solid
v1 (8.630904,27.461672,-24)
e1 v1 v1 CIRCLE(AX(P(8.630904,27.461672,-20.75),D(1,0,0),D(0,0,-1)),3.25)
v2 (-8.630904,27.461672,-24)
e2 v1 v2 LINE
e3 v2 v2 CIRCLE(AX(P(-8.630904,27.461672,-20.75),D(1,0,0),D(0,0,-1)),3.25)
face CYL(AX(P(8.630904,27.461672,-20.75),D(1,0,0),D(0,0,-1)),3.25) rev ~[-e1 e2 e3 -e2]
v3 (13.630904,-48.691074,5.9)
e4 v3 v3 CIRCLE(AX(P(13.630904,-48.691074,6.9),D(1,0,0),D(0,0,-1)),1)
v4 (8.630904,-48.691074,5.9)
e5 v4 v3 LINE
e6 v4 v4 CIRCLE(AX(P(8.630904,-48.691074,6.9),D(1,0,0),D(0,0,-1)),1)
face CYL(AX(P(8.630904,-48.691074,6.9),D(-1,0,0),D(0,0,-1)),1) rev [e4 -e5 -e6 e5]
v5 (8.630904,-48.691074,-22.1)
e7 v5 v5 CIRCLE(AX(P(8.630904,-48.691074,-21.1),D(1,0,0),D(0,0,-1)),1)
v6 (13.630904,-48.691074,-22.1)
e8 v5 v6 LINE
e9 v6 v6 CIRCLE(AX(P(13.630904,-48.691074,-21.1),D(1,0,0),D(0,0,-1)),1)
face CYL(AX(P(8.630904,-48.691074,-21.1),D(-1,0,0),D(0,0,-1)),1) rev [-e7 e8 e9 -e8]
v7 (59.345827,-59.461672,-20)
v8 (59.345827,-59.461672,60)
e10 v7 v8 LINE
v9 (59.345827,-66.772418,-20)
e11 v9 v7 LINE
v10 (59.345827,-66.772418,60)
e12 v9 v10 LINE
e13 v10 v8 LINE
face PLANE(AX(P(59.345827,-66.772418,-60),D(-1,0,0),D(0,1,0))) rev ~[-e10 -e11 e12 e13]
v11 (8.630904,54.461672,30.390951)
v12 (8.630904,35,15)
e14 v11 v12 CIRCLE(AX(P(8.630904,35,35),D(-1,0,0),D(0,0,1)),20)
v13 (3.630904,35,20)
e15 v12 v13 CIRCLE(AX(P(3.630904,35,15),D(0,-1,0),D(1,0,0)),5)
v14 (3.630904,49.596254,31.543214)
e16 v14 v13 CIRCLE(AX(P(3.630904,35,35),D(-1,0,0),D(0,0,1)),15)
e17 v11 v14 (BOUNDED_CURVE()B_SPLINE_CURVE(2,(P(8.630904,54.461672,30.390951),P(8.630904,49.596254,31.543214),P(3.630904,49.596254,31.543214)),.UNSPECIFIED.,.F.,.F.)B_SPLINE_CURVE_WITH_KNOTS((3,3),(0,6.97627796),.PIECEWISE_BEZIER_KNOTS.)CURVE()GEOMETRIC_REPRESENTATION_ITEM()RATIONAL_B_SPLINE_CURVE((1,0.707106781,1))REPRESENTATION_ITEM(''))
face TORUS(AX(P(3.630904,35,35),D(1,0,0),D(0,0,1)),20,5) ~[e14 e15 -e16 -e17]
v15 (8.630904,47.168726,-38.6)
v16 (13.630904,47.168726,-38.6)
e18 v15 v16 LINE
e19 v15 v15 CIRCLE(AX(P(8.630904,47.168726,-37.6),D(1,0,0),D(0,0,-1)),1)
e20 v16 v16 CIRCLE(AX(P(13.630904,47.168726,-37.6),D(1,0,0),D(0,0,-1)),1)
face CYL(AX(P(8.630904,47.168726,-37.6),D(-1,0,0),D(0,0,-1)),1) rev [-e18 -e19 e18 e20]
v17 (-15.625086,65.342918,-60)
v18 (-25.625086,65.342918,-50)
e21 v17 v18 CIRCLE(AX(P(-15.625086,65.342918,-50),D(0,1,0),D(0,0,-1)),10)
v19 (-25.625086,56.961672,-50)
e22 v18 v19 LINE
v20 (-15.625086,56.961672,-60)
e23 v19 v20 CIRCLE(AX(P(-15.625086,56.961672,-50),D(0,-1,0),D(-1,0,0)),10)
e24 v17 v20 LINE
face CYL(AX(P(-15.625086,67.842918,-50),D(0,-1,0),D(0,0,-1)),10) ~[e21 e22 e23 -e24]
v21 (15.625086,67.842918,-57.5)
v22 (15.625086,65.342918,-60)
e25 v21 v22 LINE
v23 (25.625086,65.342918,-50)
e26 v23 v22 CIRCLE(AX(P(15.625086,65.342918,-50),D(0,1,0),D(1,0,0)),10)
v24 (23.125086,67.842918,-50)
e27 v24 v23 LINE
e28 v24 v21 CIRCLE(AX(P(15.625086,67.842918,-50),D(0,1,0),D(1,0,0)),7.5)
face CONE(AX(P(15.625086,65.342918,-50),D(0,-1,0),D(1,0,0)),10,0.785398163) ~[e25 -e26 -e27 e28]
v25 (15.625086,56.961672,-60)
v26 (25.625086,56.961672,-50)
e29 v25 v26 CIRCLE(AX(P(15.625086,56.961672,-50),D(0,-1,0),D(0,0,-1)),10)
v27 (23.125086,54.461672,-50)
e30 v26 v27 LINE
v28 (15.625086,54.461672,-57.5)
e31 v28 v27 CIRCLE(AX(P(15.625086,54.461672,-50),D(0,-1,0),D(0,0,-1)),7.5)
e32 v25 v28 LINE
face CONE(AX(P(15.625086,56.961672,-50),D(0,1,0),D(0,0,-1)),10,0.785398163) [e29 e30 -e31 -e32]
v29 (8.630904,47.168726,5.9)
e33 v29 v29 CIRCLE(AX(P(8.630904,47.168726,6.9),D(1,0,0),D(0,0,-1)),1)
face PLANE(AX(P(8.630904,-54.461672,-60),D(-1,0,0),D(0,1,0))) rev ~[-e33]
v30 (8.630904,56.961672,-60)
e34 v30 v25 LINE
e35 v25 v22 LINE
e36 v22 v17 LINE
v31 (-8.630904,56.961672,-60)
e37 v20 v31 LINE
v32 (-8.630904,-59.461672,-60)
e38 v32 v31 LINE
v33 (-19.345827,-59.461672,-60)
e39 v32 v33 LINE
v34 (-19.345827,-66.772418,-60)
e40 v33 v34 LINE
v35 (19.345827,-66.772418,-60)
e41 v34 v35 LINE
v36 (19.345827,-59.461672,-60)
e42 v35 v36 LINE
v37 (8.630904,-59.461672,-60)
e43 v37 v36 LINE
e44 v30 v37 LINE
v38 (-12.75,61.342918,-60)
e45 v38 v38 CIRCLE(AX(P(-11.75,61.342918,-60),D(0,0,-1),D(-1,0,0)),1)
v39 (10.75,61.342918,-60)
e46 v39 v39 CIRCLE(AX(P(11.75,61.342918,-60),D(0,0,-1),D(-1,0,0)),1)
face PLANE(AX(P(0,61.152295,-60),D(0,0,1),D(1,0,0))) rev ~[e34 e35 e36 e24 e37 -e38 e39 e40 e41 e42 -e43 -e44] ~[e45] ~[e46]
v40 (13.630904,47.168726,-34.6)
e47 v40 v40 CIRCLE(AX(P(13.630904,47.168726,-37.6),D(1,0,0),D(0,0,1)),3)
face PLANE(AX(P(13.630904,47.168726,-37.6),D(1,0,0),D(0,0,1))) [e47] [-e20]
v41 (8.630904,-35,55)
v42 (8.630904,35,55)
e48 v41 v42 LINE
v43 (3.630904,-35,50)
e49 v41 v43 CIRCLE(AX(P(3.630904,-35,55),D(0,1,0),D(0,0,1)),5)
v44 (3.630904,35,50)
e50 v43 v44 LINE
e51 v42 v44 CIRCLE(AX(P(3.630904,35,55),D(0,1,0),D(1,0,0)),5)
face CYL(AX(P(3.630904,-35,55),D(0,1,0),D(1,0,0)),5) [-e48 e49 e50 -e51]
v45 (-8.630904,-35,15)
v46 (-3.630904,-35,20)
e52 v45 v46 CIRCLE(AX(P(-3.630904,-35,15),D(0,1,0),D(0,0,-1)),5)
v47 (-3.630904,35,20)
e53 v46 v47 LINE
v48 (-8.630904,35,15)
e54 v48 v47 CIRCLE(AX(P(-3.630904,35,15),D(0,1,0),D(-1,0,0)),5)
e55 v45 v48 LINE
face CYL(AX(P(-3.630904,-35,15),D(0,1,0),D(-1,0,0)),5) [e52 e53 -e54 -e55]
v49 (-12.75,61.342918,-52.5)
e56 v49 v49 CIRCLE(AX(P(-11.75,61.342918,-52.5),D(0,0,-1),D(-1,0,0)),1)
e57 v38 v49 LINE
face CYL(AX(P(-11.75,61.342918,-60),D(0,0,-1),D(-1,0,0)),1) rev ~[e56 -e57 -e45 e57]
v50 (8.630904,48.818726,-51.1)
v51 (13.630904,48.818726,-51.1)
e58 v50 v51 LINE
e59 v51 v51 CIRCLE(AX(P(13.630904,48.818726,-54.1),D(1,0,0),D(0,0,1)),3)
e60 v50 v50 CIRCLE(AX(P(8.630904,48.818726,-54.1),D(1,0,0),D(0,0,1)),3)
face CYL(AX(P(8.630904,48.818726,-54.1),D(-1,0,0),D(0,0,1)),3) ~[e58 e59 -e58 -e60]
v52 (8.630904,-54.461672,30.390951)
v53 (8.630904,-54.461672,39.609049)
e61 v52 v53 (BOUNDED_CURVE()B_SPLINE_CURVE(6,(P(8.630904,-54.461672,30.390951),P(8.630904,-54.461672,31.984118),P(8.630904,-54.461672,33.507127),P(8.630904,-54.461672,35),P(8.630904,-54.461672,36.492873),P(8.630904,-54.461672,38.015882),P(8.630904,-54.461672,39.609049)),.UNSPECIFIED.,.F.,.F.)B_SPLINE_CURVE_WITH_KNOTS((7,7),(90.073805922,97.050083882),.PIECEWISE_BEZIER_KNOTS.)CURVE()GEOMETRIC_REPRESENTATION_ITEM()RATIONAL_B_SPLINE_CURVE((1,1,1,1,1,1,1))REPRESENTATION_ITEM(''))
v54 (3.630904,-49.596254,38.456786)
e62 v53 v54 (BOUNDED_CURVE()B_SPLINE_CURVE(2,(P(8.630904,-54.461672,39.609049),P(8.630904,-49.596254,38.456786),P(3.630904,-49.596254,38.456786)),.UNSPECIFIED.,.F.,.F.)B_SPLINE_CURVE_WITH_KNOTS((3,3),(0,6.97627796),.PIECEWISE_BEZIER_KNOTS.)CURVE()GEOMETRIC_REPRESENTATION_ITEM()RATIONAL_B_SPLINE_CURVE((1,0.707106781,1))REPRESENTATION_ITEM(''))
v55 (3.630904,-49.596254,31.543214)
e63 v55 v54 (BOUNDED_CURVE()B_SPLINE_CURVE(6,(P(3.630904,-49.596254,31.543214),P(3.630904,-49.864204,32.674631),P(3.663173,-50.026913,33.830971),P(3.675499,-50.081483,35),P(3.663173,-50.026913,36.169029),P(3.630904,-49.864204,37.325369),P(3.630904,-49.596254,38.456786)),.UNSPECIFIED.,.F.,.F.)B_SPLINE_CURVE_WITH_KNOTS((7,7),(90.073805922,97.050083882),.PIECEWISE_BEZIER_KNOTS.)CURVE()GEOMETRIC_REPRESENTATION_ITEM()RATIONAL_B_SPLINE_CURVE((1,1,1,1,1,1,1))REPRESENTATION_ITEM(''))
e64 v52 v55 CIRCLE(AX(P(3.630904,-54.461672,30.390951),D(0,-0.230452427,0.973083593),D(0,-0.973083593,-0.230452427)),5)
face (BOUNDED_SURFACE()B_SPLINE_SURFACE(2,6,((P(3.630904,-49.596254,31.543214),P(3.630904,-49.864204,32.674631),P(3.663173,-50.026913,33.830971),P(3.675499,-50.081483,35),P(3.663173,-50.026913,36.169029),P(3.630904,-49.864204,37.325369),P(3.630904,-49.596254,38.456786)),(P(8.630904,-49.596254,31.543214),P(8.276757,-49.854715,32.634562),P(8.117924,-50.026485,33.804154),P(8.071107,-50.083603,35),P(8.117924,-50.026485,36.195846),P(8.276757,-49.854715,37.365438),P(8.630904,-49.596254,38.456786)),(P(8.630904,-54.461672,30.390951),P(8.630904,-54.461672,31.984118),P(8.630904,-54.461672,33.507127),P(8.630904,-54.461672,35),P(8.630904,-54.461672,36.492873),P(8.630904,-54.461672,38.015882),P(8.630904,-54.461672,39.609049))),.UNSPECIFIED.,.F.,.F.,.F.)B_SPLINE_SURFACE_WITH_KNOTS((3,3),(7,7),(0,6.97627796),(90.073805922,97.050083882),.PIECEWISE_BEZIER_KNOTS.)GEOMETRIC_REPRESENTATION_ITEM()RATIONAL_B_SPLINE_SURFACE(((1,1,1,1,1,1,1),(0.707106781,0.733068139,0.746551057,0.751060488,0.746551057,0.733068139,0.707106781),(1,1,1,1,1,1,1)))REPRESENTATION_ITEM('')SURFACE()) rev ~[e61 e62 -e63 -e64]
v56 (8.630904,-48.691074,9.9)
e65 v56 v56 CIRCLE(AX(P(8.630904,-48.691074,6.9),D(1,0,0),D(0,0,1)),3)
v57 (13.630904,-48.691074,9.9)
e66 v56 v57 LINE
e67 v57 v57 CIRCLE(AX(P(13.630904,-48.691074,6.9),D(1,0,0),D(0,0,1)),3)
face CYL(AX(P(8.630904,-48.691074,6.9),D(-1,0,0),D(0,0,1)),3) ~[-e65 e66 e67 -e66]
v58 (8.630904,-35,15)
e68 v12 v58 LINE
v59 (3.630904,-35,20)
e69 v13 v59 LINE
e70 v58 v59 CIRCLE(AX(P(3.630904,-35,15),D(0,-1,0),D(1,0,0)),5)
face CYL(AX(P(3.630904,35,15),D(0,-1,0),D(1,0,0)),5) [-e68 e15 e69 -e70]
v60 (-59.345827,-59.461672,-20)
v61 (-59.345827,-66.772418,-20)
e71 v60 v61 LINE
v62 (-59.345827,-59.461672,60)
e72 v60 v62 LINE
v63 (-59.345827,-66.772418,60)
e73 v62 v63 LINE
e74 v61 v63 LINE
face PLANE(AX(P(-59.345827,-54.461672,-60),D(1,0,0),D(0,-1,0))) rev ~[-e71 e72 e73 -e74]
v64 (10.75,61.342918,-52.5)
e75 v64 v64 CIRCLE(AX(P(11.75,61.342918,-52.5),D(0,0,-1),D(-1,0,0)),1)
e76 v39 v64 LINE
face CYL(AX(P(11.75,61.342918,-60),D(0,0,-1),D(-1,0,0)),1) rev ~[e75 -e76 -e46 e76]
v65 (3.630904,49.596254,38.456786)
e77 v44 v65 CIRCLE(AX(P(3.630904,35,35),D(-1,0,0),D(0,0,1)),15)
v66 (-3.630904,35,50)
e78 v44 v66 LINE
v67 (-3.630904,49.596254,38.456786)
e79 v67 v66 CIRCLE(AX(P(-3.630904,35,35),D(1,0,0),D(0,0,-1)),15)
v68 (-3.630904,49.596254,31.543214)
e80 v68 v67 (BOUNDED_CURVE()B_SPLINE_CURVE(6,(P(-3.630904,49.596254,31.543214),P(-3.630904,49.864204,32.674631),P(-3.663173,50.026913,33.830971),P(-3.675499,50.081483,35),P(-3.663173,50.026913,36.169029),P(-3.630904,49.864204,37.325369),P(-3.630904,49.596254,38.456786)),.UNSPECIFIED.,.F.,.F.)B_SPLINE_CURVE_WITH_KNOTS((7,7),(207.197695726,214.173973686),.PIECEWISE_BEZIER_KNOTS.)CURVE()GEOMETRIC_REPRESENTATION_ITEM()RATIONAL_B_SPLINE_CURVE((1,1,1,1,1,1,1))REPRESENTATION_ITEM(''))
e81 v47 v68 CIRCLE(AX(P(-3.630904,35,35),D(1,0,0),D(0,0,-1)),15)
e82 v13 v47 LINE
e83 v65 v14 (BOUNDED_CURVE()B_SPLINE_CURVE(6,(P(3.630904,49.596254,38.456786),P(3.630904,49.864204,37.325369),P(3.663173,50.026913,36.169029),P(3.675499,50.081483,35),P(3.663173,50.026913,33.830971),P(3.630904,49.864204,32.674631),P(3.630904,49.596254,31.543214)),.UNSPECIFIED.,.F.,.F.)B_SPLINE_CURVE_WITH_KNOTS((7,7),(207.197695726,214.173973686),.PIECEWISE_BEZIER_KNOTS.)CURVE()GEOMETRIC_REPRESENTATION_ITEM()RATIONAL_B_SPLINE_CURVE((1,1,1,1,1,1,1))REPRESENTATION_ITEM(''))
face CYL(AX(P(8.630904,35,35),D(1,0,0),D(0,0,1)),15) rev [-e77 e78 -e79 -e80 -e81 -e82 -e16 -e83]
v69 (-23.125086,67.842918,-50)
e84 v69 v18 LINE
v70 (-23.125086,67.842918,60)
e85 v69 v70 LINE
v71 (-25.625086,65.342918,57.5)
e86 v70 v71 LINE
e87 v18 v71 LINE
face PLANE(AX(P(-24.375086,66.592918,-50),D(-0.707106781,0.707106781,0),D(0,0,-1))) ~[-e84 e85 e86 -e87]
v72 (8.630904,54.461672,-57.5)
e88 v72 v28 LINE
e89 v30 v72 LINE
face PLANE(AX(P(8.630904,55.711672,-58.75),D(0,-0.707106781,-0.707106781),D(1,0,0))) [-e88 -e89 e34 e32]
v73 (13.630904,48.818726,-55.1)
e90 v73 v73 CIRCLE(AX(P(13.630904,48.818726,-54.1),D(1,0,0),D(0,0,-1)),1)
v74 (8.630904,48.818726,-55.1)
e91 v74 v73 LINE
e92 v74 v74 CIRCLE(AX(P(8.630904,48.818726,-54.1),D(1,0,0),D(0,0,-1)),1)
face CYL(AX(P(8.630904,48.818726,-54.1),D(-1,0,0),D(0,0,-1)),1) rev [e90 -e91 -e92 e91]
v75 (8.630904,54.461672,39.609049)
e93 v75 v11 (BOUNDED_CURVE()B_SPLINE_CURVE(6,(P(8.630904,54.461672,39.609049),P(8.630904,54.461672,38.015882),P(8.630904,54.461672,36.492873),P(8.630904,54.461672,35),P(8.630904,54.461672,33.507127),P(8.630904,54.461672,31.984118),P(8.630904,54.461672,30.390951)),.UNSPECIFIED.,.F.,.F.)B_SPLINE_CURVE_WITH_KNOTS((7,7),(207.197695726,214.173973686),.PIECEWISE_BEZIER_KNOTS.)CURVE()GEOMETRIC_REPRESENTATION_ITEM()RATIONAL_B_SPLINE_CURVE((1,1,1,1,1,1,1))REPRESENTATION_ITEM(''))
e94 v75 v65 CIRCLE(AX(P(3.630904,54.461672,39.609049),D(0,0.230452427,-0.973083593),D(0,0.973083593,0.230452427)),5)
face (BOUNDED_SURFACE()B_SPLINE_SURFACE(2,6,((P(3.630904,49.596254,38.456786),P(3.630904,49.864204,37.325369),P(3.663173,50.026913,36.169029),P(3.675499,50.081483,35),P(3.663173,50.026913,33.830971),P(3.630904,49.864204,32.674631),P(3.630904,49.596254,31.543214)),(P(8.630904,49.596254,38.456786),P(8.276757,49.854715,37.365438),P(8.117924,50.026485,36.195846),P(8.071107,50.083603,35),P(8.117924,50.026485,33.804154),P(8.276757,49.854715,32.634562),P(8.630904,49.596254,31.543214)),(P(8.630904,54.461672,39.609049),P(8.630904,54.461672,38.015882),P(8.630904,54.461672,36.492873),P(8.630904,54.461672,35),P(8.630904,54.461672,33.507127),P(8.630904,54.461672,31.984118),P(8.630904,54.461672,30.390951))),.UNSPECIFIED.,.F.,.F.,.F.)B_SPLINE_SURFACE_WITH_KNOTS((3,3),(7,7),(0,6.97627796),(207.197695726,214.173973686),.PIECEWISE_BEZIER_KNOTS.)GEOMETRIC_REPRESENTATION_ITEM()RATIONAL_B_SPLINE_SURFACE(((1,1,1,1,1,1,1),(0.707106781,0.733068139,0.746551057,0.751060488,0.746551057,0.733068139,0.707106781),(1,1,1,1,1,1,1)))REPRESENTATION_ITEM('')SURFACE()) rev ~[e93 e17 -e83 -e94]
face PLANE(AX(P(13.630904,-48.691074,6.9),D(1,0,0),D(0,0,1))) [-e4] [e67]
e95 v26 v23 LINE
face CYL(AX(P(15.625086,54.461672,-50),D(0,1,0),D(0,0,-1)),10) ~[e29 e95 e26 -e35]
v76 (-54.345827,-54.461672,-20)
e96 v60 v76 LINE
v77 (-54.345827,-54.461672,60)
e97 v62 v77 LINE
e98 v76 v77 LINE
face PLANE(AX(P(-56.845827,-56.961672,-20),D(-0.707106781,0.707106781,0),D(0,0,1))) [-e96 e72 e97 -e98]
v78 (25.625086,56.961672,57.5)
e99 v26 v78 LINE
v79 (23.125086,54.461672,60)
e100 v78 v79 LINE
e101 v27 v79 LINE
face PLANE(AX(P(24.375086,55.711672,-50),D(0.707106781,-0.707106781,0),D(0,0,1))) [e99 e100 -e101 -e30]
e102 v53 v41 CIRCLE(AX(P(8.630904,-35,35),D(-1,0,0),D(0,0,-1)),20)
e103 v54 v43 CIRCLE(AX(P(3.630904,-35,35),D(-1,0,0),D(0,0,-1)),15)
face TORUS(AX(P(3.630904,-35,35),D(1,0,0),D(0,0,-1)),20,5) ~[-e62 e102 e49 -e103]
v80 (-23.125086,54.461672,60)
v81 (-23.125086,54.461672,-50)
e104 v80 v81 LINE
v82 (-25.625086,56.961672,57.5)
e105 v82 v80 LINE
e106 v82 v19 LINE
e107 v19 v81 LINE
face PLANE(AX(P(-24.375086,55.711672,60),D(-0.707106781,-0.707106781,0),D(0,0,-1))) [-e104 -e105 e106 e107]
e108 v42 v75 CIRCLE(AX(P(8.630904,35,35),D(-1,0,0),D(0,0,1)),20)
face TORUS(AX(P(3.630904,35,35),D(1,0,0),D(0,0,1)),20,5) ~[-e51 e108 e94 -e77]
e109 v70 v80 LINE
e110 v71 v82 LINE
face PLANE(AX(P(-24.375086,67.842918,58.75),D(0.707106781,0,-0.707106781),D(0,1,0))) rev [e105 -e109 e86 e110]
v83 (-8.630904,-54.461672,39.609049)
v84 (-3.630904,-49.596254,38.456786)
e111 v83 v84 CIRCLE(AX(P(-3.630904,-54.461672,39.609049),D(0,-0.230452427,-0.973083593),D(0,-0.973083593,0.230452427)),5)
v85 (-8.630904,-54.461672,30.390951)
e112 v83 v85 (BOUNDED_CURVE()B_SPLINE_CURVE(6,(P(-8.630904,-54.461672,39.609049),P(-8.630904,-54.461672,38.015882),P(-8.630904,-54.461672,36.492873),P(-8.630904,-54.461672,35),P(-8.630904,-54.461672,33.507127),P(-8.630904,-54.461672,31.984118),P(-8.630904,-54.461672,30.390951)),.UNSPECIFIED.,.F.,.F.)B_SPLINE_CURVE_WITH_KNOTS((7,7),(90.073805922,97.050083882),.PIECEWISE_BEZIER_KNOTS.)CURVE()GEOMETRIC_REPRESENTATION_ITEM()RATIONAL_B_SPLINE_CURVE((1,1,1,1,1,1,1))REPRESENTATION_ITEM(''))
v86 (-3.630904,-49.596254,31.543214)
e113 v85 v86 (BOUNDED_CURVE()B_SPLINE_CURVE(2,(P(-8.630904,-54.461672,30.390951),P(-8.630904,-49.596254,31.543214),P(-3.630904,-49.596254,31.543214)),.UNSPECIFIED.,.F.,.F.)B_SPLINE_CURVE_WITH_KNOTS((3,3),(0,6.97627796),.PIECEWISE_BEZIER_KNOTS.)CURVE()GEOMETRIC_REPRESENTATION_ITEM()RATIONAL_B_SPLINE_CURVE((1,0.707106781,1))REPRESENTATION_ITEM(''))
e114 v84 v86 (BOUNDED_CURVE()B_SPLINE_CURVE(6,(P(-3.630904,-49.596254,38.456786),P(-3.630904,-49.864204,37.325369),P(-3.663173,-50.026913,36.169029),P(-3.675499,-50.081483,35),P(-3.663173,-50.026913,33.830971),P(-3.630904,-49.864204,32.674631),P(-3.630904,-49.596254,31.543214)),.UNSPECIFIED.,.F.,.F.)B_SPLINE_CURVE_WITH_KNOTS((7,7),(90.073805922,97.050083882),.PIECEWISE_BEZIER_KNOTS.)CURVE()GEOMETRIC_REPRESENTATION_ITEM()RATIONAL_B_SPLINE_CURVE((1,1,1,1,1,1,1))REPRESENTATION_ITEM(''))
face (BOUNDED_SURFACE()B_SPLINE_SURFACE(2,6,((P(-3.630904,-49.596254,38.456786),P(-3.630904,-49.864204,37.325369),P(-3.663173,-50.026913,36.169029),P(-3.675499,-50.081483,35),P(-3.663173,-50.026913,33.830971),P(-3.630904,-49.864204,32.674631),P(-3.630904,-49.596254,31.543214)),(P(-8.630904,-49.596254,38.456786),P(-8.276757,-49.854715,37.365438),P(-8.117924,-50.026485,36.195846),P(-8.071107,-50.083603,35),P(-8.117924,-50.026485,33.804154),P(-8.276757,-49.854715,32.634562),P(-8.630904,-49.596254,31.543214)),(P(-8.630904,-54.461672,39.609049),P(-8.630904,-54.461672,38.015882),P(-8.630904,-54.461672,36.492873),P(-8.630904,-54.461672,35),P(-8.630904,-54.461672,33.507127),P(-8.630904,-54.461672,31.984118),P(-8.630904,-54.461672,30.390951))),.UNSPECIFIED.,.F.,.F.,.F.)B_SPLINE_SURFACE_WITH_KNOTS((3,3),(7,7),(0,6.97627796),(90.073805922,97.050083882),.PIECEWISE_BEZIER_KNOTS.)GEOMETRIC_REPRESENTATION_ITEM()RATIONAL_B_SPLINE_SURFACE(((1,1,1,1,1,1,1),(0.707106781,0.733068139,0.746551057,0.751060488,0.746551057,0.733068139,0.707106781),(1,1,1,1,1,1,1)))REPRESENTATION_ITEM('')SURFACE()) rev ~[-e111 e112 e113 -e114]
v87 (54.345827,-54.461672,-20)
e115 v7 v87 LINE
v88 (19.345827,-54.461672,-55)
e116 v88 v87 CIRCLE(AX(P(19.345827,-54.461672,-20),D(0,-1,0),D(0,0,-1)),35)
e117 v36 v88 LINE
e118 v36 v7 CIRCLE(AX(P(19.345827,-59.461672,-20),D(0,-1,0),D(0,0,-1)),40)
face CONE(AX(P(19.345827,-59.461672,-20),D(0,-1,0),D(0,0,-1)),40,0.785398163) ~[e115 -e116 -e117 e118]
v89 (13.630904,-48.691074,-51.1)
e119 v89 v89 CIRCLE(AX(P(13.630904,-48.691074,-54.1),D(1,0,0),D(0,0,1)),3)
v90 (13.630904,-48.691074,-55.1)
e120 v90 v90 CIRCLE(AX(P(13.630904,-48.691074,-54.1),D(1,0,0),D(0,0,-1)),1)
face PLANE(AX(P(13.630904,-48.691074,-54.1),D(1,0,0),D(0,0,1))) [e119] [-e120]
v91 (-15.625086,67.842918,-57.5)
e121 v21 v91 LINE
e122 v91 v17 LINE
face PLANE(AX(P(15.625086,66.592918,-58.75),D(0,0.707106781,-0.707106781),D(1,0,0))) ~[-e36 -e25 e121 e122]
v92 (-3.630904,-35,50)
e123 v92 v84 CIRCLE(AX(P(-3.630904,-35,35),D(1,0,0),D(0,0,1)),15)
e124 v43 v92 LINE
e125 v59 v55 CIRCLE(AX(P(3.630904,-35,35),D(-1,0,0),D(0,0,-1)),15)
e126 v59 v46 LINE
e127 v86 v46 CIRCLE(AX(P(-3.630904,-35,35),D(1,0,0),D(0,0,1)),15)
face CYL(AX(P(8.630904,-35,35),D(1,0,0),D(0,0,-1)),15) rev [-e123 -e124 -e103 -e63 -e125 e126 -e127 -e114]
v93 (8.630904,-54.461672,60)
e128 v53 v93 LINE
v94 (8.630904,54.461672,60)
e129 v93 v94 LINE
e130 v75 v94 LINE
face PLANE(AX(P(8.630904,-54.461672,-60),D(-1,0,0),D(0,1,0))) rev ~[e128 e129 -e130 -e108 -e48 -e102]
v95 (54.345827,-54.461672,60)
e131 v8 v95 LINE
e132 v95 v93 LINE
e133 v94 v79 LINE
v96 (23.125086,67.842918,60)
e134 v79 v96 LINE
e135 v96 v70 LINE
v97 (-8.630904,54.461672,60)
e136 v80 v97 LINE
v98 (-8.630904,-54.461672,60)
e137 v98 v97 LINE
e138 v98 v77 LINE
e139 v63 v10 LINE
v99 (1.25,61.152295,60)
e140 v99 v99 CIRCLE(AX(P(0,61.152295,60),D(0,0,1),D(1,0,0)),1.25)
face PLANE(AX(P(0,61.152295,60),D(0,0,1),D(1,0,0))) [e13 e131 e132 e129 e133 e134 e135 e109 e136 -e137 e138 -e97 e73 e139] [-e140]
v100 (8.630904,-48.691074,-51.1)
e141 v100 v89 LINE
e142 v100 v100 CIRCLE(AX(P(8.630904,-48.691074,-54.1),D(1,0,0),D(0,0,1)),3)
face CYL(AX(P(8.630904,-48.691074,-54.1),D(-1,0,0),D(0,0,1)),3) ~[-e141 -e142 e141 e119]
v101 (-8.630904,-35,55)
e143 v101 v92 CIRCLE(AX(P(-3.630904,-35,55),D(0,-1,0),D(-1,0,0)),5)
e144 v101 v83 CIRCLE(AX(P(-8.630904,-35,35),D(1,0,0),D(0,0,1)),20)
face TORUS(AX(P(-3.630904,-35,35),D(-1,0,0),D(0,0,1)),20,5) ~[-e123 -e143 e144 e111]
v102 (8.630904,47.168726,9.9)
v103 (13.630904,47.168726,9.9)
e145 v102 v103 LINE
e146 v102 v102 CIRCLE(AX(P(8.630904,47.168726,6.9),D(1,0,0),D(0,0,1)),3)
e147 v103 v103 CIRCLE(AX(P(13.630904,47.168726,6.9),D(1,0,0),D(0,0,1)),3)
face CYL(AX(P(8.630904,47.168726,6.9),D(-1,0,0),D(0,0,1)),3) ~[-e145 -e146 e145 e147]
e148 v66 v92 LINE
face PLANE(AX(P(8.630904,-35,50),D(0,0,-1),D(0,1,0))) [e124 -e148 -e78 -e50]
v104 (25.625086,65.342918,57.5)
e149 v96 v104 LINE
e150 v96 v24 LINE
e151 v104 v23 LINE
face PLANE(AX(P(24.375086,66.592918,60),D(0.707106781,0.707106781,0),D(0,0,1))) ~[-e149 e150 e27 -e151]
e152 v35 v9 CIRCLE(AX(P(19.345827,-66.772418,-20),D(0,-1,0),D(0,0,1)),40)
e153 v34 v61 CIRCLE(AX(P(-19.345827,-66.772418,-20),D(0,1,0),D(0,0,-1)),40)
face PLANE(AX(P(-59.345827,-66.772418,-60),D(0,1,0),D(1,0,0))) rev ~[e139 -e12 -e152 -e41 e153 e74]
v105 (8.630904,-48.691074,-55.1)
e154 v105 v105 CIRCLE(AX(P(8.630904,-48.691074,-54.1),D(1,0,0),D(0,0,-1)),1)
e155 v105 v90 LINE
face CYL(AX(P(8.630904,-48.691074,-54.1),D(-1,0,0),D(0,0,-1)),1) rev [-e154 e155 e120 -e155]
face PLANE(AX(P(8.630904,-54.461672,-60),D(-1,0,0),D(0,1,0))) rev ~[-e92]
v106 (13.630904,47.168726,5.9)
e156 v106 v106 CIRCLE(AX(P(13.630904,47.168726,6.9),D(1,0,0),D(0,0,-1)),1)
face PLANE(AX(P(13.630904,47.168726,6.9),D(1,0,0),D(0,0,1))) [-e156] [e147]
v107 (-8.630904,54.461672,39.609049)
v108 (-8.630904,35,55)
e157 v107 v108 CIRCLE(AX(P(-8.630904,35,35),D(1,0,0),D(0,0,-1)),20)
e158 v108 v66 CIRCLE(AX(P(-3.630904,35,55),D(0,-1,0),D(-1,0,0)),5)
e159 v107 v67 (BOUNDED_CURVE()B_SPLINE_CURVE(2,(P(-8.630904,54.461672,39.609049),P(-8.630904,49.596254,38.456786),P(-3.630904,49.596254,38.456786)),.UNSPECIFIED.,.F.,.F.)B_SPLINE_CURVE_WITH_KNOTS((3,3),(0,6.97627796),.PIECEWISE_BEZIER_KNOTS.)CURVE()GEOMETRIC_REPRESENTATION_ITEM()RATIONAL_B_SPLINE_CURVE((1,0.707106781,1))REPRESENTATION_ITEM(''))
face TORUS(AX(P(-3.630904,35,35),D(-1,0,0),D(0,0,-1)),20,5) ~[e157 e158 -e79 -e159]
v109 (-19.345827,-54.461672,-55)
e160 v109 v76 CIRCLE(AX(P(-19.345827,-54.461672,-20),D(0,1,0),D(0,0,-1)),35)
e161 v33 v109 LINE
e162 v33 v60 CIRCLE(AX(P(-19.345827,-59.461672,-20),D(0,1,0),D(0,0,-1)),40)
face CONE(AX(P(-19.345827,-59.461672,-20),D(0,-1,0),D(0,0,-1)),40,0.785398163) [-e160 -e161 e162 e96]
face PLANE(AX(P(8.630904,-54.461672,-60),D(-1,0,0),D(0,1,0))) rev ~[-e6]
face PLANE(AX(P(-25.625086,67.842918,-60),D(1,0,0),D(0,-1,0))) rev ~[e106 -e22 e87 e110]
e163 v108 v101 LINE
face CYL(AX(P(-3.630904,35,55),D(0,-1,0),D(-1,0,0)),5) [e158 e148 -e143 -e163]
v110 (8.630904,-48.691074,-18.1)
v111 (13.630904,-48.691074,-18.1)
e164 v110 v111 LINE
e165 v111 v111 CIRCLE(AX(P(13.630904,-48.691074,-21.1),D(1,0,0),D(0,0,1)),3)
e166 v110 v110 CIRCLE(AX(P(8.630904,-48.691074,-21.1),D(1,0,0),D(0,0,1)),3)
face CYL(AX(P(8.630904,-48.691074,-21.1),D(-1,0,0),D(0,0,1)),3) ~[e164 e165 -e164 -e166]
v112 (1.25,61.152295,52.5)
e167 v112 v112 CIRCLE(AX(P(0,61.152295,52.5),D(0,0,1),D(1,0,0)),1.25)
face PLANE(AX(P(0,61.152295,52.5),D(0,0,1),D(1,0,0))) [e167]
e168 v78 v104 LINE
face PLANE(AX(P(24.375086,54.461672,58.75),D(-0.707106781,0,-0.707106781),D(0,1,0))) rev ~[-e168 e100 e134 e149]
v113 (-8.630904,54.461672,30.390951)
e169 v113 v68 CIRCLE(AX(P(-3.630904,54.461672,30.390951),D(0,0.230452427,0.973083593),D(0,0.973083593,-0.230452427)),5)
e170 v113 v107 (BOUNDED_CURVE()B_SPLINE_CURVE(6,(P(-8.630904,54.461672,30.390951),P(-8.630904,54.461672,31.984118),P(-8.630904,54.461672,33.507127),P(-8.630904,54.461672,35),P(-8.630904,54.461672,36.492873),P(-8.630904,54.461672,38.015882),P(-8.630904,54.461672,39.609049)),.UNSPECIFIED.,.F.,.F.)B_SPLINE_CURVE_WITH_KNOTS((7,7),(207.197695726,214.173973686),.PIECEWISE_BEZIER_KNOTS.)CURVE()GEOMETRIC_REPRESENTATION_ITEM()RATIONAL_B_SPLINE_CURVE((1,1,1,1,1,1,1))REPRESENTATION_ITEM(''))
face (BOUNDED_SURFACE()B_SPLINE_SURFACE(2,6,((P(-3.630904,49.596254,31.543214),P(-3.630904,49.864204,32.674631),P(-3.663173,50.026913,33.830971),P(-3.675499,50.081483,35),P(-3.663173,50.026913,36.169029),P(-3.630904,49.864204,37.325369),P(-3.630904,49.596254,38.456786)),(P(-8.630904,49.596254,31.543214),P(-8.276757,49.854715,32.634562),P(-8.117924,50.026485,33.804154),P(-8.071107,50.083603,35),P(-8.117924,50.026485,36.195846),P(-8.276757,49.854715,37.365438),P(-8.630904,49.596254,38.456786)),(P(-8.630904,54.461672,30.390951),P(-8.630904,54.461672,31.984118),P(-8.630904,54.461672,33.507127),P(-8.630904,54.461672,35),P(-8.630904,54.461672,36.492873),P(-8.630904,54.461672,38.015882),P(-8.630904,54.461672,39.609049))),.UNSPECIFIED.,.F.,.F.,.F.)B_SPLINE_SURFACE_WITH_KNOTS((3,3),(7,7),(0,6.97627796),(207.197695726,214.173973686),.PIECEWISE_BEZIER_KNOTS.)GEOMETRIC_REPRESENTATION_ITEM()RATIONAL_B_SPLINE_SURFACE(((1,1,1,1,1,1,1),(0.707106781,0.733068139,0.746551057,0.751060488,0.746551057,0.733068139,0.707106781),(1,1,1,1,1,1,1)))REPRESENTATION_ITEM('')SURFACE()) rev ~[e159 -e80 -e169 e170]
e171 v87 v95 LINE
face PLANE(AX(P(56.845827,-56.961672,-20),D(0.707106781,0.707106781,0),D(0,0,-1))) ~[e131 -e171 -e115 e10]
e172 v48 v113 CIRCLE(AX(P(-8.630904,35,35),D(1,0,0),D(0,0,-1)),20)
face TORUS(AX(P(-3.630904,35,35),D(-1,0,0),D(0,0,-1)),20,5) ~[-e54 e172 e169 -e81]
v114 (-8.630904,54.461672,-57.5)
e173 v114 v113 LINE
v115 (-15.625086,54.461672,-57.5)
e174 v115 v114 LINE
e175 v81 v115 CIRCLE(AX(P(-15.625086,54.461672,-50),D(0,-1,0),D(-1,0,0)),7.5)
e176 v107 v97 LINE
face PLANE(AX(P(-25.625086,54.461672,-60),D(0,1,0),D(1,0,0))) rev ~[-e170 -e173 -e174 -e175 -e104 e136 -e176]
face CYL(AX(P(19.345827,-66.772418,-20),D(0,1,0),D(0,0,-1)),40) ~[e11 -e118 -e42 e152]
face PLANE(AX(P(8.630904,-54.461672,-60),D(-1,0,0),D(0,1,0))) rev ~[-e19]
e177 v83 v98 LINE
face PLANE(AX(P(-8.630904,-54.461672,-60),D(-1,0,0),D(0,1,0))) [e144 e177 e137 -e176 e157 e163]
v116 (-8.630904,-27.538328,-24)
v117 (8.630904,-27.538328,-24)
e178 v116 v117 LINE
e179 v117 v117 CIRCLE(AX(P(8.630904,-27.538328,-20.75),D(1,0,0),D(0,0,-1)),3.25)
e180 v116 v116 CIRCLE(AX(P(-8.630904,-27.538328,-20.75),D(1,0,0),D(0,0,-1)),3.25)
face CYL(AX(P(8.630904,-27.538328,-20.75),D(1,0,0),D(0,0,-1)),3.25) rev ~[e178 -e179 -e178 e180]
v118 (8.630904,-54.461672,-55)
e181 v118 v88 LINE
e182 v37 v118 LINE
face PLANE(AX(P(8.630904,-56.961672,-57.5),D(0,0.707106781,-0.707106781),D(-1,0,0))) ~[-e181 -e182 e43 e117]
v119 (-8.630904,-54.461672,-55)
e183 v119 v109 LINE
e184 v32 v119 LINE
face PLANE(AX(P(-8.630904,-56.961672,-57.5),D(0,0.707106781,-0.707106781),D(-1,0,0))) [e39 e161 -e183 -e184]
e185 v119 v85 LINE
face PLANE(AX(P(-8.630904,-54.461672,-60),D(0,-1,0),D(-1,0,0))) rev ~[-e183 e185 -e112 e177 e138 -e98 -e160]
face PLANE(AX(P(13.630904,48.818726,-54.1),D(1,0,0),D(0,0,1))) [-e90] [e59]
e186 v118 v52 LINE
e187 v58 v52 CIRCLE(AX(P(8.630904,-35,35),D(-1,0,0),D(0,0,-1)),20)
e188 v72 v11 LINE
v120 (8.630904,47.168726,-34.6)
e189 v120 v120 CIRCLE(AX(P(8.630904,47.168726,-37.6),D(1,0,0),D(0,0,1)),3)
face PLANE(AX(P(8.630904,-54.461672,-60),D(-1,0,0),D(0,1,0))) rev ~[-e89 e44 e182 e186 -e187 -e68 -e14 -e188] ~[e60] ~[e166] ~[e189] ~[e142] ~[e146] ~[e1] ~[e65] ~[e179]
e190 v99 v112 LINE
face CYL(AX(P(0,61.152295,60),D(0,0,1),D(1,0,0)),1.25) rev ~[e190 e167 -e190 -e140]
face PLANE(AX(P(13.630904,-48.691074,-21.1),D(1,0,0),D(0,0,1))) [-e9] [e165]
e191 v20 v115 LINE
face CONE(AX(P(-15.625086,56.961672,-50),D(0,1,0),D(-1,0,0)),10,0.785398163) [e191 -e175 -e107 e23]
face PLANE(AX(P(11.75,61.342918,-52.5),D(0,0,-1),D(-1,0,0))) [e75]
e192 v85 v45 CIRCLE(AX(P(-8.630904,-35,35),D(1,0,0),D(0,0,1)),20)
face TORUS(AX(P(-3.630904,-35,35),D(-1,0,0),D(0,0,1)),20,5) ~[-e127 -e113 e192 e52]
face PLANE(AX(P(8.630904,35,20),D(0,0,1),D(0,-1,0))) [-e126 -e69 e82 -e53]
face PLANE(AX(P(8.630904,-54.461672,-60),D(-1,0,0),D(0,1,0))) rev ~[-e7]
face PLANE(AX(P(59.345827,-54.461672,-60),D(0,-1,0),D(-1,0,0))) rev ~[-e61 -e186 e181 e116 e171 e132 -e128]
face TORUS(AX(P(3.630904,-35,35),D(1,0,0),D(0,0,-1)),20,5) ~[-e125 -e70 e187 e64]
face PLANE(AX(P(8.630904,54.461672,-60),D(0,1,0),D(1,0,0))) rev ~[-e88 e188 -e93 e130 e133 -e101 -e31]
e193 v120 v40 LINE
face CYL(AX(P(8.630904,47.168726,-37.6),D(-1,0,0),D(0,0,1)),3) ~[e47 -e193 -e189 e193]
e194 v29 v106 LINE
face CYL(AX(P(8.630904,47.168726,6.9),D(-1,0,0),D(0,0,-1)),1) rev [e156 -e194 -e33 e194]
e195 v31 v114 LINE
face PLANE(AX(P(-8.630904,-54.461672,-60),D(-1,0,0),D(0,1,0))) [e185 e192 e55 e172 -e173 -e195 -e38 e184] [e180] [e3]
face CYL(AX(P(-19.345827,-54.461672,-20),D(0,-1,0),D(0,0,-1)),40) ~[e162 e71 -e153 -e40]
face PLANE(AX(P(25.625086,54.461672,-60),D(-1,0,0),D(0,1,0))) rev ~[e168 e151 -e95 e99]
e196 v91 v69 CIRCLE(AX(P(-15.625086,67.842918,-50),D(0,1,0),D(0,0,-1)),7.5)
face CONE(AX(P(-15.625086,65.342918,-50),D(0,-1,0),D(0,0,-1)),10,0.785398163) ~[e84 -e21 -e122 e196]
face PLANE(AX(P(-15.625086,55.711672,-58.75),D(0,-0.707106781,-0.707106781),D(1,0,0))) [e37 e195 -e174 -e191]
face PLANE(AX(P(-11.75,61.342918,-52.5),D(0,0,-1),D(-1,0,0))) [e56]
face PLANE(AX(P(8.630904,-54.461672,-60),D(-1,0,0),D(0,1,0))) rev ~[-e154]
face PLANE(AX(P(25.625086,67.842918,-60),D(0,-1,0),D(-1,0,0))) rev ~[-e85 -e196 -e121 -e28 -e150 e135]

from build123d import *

# Parameters (mm, degrees)
BOSS_EXTRUDE1_DEPTH      = 60
BOSS_EXTRUDE1_DEPTH_BACK = 60
SKETCH2_W                = 17.261807542
SKETCH2_H                = 108.92334372
SKETCH3_R                = 3
SKETCH3_R_2              = 1
BOSS_EXTRUDE2_DEPTH      = 5
SKETCH4_R                = 3.25
CUT_EXTRUDE1_DEPTH       = 21
CUT_EXTRUDE2_DEPTH       = 114.240882246
FILLET1_R                = 40
FILLET3_R                = 5
FILLET4_R                = 10
SKETCH6_R                = 1
CUT_EXTRUDE3_DEPTH       = 7.5
CHAMFER2_SIZE            = 2.5
CHAMFER4_SIZE            = 5
SKETCH7_R                = 1.25
CUT_EXTRUDE4_DEPTH       = 7.5


with BuildPart() as part:
    # Sketch2 → Boss-Extrude1 (new, two sides: drawn at the far end of the back side and taken through both)
    with BuildSketch(Plane.XY.offset(-BOSS_EXTRUDE1_DEPTH_BACK)):
        Polygon((-8.630903771, 54.46167186), (8.630903771, 54.46167186), (25.625086391, 54.46167186), (25.625086391, 67.842918018), (-25.625086391, 67.842918018), (-25.625086391, 54.46167186), align=None)
        Rectangle(SKETCH2_W, SKETCH2_H)
        Polygon((59.345826708, -54.46167186), (8.630903771, -54.46167186), (-8.630903771, -54.46167186), (-59.345826708, -54.46167186), (-59.345826708, -66.772418325), (59.345826708, -66.772418325), align=None)
    extrude(amount=BOSS_EXTRUDE1_DEPTH + BOSS_EXTRUDE1_DEPTH_BACK)

    # Sketch3 → Boss-Extrude2 (add)
    # profile 1 of 6: a face of its own
    with BuildSketch(Plane(origin=(8.630903771, 0, 0), x_dir=(0, 0, -1), z_dir=(1, 0, 0))):
        with Locations(Location((-6.9, 47.168726105, 0), (0, 0, 180))):
            Circle(SKETCH3_R)
        with Locations((-6.9, 47.168726105)):
            Circle(SKETCH3_R_2, mode=Mode.SUBTRACT)
    # profile 2 of 6: a face of its own
    with BuildSketch(Plane(origin=(8.630903771, 0, 0), x_dir=(0, 0, -1), z_dir=(1, 0, 0))):
        with Locations(Location((37.6, 47.168726105, 0), (0, 0, 180))):
            Circle(SKETCH3_R)
        with Locations((37.6, 47.168726105)):
            Circle(SKETCH3_R_2, mode=Mode.SUBTRACT)
    # profile 3 of 6: a face of its own
    with BuildSketch(Plane(origin=(8.630903771, 0, 0), x_dir=(0, 0, -1), z_dir=(1, 0, 0))):
        with Locations(Location((54.1, 48.818726105, 0), (0, 0, 180))):
            Circle(SKETCH3_R)
        with Locations((54.1, 48.818726105)):
            Circle(SKETCH3_R_2, mode=Mode.SUBTRACT)
    # profile 4 of 6: a face of its own
    with BuildSketch(Plane(origin=(8.630903771, 0, 0), x_dir=(0, 0, -1), z_dir=(1, 0, 0))):
        with Locations(Location((54.1, -48.691074046, 0), (0, 0, 180))):
            Circle(SKETCH3_R)
        with Locations((54.1, -48.691074046)):
            Circle(SKETCH3_R_2, mode=Mode.SUBTRACT)
    # profile 5 of 6: a face of its own
    with BuildSketch(Plane(origin=(8.630903771, 0, 0), x_dir=(0, 0, -1), z_dir=(1, 0, 0))):
        with Locations(Location((21.1, -48.691074046, 0), (0, 0, 180))):
            Circle(SKETCH3_R)
        with Locations((21.1, -48.691074046)):
            Circle(SKETCH3_R_2, mode=Mode.SUBTRACT)
    # profile 6 of 6: a face of its own
    with BuildSketch(Plane(origin=(8.630903771, 0, 0), x_dir=(0, 0, -1), z_dir=(1, 0, 0))):
        with Locations(Location((-6.9, -48.691074046, 0), (0, 0, 180))):
            Circle(SKETCH3_R)
        with Locations((-6.9, -48.691074046)):
            Circle(SKETCH3_R_2, mode=Mode.SUBTRACT)
    extrude(amount=BOSS_EXTRUDE2_DEPTH)

    # Sketch4 → Cut-Extrude1 (cut, symmetric)
    with BuildSketch(Plane(origin=(8.630903771, 0, 0), x_dir=(0, 0, -1), z_dir=(1, 0, 0))):
        with Locations((20.75, 27.46167186)):
            Circle(SKETCH4_R)
        with Locations((20.75, -27.53832814)):
            Circle(SKETCH4_R)
    extrude(amount=CUT_EXTRUDE1_DEPTH, both=True, mode=Mode.SUBTRACT)

    # Sketch5 → Cut-Extrude2 (cut, through all)
    with BuildSketch(Plane(origin=(8.630903771, 0, 0), x_dir=(0, 0, -1), z_dir=(1, 0, 0))):
        with BuildLine():
            Line((-20, 35), (-20, -35))
            ThreePointArc((-20, -35), (-35, -50), (-50, -35))
            Line((-50, -35), (-50, 35))
            ThreePointArc((-50, 35), (-35, 50), (-20, 35))
        make_face()
    extrude(amount=-CUT_EXTRUDE2_DEPTH, mode=Mode.SUBTRACT)

    # Fillet1
    fillet1_edges = [part.edges().sort_by_distance(p)[0] for p in [
        (-59.345826708, -60.617045093, -60),
        (59.345826708, -60.617045093, -60),
    ]]
    fillet(fillet1_edges, radius=FILLET1_R)

    # Fillet3
    fillet3_edges = [part.edges().sort_by_distance(p)[0] for p in [
        (-8.630903771, 0, 50),
        (-8.630903771, -50, 35),
        (-8.630903771, 0, 20),
        (-8.630903771, 50, 35),
        (8.630903771, 0, 20),
        (8.630903771, 50, 35),
        (8.630903771, 0, 50),
        (8.630903771, -50, 35),
    ]]
    fillet(fillet3_edges, radius=FILLET3_R)

    # Fillet4
    fillet4_edges = [part.edges().sort_by_distance(p)[0] for p in [
        (-25.625086391, 61.152294939, -60),
        (25.625086391, 61.152294939, -60),
    ]]
    fillet(fillet4_edges, radius=FILLET4_R)

    # Sketch6 → Cut-Extrude3 (cut)
    with BuildSketch(Plane(origin=(0, 0, -60), x_dir=(-1, 0, 0), z_dir=(0, 0, -1))):
        with Locations((11.75, 61.342918018)):
            Circle(SKETCH6_R)
        with Locations((-11.75, 61.342918018)):
            Circle(SKETCH6_R)
    extrude(amount=-CUT_EXTRUDE3_DEPTH, mode=Mode.SUBTRACT)

    # Chamfer2
    chamfer2_edges = [part.edges().sort_by_distance(p)[0] for p in [
        (-12.127995081, 54.46167186, -60),
        (-25.625086391, 54.46167186, 5),
        (-25.625086391, 67.842918018, 5),
        (-22.696154203, 54.46167186, -57.071067812),
        (0, 67.842918018, -60),
        (12.127995081, 54.46167186, -60),
        (25.625086391, 67.842918018, 5),
        (22.696154203, 67.842918018, -57.071067812),
        (-22.696154203, 67.842918018, -57.071067812),
        (25.625086391, 54.46167186, 5),
        (22.696154203, 54.46167186, -57.071067812),
        (25.625086391, 61.152294939, 60),
        (-25.625086391, 61.152294939, 60),
    ]]
    chamfer(chamfer2_edges, length=CHAMFER2_SIZE)

    # Chamfer4
    chamfer4_edges = [part.edges().sort_by_distance(p)[0] for p in [
        (-13.98836524, -54.46167186, -60),
        (-59.345826708, -54.46167186, 20),
        (-47.630097955, -54.46167186, -48.284271247),
        (59.345826708, -54.46167186, 20),
        (47.630097955, -54.46167186, -48.284271247),
        (13.98836524, -54.46167186, -60),
    ]]
    chamfer(chamfer4_edges, length=CHAMFER4_SIZE)

    # Sketch7 → Cut-Extrude4 (cut)
    with BuildSketch(Plane.XY.offset(60)):
        with Locations((0, 61.152294939)):
            Circle(SKETCH7_R)
    extrude(amount=-CUT_EXTRUDE4_DEPTH, mode=Mode.SUBTRACT)


solid = part.part
